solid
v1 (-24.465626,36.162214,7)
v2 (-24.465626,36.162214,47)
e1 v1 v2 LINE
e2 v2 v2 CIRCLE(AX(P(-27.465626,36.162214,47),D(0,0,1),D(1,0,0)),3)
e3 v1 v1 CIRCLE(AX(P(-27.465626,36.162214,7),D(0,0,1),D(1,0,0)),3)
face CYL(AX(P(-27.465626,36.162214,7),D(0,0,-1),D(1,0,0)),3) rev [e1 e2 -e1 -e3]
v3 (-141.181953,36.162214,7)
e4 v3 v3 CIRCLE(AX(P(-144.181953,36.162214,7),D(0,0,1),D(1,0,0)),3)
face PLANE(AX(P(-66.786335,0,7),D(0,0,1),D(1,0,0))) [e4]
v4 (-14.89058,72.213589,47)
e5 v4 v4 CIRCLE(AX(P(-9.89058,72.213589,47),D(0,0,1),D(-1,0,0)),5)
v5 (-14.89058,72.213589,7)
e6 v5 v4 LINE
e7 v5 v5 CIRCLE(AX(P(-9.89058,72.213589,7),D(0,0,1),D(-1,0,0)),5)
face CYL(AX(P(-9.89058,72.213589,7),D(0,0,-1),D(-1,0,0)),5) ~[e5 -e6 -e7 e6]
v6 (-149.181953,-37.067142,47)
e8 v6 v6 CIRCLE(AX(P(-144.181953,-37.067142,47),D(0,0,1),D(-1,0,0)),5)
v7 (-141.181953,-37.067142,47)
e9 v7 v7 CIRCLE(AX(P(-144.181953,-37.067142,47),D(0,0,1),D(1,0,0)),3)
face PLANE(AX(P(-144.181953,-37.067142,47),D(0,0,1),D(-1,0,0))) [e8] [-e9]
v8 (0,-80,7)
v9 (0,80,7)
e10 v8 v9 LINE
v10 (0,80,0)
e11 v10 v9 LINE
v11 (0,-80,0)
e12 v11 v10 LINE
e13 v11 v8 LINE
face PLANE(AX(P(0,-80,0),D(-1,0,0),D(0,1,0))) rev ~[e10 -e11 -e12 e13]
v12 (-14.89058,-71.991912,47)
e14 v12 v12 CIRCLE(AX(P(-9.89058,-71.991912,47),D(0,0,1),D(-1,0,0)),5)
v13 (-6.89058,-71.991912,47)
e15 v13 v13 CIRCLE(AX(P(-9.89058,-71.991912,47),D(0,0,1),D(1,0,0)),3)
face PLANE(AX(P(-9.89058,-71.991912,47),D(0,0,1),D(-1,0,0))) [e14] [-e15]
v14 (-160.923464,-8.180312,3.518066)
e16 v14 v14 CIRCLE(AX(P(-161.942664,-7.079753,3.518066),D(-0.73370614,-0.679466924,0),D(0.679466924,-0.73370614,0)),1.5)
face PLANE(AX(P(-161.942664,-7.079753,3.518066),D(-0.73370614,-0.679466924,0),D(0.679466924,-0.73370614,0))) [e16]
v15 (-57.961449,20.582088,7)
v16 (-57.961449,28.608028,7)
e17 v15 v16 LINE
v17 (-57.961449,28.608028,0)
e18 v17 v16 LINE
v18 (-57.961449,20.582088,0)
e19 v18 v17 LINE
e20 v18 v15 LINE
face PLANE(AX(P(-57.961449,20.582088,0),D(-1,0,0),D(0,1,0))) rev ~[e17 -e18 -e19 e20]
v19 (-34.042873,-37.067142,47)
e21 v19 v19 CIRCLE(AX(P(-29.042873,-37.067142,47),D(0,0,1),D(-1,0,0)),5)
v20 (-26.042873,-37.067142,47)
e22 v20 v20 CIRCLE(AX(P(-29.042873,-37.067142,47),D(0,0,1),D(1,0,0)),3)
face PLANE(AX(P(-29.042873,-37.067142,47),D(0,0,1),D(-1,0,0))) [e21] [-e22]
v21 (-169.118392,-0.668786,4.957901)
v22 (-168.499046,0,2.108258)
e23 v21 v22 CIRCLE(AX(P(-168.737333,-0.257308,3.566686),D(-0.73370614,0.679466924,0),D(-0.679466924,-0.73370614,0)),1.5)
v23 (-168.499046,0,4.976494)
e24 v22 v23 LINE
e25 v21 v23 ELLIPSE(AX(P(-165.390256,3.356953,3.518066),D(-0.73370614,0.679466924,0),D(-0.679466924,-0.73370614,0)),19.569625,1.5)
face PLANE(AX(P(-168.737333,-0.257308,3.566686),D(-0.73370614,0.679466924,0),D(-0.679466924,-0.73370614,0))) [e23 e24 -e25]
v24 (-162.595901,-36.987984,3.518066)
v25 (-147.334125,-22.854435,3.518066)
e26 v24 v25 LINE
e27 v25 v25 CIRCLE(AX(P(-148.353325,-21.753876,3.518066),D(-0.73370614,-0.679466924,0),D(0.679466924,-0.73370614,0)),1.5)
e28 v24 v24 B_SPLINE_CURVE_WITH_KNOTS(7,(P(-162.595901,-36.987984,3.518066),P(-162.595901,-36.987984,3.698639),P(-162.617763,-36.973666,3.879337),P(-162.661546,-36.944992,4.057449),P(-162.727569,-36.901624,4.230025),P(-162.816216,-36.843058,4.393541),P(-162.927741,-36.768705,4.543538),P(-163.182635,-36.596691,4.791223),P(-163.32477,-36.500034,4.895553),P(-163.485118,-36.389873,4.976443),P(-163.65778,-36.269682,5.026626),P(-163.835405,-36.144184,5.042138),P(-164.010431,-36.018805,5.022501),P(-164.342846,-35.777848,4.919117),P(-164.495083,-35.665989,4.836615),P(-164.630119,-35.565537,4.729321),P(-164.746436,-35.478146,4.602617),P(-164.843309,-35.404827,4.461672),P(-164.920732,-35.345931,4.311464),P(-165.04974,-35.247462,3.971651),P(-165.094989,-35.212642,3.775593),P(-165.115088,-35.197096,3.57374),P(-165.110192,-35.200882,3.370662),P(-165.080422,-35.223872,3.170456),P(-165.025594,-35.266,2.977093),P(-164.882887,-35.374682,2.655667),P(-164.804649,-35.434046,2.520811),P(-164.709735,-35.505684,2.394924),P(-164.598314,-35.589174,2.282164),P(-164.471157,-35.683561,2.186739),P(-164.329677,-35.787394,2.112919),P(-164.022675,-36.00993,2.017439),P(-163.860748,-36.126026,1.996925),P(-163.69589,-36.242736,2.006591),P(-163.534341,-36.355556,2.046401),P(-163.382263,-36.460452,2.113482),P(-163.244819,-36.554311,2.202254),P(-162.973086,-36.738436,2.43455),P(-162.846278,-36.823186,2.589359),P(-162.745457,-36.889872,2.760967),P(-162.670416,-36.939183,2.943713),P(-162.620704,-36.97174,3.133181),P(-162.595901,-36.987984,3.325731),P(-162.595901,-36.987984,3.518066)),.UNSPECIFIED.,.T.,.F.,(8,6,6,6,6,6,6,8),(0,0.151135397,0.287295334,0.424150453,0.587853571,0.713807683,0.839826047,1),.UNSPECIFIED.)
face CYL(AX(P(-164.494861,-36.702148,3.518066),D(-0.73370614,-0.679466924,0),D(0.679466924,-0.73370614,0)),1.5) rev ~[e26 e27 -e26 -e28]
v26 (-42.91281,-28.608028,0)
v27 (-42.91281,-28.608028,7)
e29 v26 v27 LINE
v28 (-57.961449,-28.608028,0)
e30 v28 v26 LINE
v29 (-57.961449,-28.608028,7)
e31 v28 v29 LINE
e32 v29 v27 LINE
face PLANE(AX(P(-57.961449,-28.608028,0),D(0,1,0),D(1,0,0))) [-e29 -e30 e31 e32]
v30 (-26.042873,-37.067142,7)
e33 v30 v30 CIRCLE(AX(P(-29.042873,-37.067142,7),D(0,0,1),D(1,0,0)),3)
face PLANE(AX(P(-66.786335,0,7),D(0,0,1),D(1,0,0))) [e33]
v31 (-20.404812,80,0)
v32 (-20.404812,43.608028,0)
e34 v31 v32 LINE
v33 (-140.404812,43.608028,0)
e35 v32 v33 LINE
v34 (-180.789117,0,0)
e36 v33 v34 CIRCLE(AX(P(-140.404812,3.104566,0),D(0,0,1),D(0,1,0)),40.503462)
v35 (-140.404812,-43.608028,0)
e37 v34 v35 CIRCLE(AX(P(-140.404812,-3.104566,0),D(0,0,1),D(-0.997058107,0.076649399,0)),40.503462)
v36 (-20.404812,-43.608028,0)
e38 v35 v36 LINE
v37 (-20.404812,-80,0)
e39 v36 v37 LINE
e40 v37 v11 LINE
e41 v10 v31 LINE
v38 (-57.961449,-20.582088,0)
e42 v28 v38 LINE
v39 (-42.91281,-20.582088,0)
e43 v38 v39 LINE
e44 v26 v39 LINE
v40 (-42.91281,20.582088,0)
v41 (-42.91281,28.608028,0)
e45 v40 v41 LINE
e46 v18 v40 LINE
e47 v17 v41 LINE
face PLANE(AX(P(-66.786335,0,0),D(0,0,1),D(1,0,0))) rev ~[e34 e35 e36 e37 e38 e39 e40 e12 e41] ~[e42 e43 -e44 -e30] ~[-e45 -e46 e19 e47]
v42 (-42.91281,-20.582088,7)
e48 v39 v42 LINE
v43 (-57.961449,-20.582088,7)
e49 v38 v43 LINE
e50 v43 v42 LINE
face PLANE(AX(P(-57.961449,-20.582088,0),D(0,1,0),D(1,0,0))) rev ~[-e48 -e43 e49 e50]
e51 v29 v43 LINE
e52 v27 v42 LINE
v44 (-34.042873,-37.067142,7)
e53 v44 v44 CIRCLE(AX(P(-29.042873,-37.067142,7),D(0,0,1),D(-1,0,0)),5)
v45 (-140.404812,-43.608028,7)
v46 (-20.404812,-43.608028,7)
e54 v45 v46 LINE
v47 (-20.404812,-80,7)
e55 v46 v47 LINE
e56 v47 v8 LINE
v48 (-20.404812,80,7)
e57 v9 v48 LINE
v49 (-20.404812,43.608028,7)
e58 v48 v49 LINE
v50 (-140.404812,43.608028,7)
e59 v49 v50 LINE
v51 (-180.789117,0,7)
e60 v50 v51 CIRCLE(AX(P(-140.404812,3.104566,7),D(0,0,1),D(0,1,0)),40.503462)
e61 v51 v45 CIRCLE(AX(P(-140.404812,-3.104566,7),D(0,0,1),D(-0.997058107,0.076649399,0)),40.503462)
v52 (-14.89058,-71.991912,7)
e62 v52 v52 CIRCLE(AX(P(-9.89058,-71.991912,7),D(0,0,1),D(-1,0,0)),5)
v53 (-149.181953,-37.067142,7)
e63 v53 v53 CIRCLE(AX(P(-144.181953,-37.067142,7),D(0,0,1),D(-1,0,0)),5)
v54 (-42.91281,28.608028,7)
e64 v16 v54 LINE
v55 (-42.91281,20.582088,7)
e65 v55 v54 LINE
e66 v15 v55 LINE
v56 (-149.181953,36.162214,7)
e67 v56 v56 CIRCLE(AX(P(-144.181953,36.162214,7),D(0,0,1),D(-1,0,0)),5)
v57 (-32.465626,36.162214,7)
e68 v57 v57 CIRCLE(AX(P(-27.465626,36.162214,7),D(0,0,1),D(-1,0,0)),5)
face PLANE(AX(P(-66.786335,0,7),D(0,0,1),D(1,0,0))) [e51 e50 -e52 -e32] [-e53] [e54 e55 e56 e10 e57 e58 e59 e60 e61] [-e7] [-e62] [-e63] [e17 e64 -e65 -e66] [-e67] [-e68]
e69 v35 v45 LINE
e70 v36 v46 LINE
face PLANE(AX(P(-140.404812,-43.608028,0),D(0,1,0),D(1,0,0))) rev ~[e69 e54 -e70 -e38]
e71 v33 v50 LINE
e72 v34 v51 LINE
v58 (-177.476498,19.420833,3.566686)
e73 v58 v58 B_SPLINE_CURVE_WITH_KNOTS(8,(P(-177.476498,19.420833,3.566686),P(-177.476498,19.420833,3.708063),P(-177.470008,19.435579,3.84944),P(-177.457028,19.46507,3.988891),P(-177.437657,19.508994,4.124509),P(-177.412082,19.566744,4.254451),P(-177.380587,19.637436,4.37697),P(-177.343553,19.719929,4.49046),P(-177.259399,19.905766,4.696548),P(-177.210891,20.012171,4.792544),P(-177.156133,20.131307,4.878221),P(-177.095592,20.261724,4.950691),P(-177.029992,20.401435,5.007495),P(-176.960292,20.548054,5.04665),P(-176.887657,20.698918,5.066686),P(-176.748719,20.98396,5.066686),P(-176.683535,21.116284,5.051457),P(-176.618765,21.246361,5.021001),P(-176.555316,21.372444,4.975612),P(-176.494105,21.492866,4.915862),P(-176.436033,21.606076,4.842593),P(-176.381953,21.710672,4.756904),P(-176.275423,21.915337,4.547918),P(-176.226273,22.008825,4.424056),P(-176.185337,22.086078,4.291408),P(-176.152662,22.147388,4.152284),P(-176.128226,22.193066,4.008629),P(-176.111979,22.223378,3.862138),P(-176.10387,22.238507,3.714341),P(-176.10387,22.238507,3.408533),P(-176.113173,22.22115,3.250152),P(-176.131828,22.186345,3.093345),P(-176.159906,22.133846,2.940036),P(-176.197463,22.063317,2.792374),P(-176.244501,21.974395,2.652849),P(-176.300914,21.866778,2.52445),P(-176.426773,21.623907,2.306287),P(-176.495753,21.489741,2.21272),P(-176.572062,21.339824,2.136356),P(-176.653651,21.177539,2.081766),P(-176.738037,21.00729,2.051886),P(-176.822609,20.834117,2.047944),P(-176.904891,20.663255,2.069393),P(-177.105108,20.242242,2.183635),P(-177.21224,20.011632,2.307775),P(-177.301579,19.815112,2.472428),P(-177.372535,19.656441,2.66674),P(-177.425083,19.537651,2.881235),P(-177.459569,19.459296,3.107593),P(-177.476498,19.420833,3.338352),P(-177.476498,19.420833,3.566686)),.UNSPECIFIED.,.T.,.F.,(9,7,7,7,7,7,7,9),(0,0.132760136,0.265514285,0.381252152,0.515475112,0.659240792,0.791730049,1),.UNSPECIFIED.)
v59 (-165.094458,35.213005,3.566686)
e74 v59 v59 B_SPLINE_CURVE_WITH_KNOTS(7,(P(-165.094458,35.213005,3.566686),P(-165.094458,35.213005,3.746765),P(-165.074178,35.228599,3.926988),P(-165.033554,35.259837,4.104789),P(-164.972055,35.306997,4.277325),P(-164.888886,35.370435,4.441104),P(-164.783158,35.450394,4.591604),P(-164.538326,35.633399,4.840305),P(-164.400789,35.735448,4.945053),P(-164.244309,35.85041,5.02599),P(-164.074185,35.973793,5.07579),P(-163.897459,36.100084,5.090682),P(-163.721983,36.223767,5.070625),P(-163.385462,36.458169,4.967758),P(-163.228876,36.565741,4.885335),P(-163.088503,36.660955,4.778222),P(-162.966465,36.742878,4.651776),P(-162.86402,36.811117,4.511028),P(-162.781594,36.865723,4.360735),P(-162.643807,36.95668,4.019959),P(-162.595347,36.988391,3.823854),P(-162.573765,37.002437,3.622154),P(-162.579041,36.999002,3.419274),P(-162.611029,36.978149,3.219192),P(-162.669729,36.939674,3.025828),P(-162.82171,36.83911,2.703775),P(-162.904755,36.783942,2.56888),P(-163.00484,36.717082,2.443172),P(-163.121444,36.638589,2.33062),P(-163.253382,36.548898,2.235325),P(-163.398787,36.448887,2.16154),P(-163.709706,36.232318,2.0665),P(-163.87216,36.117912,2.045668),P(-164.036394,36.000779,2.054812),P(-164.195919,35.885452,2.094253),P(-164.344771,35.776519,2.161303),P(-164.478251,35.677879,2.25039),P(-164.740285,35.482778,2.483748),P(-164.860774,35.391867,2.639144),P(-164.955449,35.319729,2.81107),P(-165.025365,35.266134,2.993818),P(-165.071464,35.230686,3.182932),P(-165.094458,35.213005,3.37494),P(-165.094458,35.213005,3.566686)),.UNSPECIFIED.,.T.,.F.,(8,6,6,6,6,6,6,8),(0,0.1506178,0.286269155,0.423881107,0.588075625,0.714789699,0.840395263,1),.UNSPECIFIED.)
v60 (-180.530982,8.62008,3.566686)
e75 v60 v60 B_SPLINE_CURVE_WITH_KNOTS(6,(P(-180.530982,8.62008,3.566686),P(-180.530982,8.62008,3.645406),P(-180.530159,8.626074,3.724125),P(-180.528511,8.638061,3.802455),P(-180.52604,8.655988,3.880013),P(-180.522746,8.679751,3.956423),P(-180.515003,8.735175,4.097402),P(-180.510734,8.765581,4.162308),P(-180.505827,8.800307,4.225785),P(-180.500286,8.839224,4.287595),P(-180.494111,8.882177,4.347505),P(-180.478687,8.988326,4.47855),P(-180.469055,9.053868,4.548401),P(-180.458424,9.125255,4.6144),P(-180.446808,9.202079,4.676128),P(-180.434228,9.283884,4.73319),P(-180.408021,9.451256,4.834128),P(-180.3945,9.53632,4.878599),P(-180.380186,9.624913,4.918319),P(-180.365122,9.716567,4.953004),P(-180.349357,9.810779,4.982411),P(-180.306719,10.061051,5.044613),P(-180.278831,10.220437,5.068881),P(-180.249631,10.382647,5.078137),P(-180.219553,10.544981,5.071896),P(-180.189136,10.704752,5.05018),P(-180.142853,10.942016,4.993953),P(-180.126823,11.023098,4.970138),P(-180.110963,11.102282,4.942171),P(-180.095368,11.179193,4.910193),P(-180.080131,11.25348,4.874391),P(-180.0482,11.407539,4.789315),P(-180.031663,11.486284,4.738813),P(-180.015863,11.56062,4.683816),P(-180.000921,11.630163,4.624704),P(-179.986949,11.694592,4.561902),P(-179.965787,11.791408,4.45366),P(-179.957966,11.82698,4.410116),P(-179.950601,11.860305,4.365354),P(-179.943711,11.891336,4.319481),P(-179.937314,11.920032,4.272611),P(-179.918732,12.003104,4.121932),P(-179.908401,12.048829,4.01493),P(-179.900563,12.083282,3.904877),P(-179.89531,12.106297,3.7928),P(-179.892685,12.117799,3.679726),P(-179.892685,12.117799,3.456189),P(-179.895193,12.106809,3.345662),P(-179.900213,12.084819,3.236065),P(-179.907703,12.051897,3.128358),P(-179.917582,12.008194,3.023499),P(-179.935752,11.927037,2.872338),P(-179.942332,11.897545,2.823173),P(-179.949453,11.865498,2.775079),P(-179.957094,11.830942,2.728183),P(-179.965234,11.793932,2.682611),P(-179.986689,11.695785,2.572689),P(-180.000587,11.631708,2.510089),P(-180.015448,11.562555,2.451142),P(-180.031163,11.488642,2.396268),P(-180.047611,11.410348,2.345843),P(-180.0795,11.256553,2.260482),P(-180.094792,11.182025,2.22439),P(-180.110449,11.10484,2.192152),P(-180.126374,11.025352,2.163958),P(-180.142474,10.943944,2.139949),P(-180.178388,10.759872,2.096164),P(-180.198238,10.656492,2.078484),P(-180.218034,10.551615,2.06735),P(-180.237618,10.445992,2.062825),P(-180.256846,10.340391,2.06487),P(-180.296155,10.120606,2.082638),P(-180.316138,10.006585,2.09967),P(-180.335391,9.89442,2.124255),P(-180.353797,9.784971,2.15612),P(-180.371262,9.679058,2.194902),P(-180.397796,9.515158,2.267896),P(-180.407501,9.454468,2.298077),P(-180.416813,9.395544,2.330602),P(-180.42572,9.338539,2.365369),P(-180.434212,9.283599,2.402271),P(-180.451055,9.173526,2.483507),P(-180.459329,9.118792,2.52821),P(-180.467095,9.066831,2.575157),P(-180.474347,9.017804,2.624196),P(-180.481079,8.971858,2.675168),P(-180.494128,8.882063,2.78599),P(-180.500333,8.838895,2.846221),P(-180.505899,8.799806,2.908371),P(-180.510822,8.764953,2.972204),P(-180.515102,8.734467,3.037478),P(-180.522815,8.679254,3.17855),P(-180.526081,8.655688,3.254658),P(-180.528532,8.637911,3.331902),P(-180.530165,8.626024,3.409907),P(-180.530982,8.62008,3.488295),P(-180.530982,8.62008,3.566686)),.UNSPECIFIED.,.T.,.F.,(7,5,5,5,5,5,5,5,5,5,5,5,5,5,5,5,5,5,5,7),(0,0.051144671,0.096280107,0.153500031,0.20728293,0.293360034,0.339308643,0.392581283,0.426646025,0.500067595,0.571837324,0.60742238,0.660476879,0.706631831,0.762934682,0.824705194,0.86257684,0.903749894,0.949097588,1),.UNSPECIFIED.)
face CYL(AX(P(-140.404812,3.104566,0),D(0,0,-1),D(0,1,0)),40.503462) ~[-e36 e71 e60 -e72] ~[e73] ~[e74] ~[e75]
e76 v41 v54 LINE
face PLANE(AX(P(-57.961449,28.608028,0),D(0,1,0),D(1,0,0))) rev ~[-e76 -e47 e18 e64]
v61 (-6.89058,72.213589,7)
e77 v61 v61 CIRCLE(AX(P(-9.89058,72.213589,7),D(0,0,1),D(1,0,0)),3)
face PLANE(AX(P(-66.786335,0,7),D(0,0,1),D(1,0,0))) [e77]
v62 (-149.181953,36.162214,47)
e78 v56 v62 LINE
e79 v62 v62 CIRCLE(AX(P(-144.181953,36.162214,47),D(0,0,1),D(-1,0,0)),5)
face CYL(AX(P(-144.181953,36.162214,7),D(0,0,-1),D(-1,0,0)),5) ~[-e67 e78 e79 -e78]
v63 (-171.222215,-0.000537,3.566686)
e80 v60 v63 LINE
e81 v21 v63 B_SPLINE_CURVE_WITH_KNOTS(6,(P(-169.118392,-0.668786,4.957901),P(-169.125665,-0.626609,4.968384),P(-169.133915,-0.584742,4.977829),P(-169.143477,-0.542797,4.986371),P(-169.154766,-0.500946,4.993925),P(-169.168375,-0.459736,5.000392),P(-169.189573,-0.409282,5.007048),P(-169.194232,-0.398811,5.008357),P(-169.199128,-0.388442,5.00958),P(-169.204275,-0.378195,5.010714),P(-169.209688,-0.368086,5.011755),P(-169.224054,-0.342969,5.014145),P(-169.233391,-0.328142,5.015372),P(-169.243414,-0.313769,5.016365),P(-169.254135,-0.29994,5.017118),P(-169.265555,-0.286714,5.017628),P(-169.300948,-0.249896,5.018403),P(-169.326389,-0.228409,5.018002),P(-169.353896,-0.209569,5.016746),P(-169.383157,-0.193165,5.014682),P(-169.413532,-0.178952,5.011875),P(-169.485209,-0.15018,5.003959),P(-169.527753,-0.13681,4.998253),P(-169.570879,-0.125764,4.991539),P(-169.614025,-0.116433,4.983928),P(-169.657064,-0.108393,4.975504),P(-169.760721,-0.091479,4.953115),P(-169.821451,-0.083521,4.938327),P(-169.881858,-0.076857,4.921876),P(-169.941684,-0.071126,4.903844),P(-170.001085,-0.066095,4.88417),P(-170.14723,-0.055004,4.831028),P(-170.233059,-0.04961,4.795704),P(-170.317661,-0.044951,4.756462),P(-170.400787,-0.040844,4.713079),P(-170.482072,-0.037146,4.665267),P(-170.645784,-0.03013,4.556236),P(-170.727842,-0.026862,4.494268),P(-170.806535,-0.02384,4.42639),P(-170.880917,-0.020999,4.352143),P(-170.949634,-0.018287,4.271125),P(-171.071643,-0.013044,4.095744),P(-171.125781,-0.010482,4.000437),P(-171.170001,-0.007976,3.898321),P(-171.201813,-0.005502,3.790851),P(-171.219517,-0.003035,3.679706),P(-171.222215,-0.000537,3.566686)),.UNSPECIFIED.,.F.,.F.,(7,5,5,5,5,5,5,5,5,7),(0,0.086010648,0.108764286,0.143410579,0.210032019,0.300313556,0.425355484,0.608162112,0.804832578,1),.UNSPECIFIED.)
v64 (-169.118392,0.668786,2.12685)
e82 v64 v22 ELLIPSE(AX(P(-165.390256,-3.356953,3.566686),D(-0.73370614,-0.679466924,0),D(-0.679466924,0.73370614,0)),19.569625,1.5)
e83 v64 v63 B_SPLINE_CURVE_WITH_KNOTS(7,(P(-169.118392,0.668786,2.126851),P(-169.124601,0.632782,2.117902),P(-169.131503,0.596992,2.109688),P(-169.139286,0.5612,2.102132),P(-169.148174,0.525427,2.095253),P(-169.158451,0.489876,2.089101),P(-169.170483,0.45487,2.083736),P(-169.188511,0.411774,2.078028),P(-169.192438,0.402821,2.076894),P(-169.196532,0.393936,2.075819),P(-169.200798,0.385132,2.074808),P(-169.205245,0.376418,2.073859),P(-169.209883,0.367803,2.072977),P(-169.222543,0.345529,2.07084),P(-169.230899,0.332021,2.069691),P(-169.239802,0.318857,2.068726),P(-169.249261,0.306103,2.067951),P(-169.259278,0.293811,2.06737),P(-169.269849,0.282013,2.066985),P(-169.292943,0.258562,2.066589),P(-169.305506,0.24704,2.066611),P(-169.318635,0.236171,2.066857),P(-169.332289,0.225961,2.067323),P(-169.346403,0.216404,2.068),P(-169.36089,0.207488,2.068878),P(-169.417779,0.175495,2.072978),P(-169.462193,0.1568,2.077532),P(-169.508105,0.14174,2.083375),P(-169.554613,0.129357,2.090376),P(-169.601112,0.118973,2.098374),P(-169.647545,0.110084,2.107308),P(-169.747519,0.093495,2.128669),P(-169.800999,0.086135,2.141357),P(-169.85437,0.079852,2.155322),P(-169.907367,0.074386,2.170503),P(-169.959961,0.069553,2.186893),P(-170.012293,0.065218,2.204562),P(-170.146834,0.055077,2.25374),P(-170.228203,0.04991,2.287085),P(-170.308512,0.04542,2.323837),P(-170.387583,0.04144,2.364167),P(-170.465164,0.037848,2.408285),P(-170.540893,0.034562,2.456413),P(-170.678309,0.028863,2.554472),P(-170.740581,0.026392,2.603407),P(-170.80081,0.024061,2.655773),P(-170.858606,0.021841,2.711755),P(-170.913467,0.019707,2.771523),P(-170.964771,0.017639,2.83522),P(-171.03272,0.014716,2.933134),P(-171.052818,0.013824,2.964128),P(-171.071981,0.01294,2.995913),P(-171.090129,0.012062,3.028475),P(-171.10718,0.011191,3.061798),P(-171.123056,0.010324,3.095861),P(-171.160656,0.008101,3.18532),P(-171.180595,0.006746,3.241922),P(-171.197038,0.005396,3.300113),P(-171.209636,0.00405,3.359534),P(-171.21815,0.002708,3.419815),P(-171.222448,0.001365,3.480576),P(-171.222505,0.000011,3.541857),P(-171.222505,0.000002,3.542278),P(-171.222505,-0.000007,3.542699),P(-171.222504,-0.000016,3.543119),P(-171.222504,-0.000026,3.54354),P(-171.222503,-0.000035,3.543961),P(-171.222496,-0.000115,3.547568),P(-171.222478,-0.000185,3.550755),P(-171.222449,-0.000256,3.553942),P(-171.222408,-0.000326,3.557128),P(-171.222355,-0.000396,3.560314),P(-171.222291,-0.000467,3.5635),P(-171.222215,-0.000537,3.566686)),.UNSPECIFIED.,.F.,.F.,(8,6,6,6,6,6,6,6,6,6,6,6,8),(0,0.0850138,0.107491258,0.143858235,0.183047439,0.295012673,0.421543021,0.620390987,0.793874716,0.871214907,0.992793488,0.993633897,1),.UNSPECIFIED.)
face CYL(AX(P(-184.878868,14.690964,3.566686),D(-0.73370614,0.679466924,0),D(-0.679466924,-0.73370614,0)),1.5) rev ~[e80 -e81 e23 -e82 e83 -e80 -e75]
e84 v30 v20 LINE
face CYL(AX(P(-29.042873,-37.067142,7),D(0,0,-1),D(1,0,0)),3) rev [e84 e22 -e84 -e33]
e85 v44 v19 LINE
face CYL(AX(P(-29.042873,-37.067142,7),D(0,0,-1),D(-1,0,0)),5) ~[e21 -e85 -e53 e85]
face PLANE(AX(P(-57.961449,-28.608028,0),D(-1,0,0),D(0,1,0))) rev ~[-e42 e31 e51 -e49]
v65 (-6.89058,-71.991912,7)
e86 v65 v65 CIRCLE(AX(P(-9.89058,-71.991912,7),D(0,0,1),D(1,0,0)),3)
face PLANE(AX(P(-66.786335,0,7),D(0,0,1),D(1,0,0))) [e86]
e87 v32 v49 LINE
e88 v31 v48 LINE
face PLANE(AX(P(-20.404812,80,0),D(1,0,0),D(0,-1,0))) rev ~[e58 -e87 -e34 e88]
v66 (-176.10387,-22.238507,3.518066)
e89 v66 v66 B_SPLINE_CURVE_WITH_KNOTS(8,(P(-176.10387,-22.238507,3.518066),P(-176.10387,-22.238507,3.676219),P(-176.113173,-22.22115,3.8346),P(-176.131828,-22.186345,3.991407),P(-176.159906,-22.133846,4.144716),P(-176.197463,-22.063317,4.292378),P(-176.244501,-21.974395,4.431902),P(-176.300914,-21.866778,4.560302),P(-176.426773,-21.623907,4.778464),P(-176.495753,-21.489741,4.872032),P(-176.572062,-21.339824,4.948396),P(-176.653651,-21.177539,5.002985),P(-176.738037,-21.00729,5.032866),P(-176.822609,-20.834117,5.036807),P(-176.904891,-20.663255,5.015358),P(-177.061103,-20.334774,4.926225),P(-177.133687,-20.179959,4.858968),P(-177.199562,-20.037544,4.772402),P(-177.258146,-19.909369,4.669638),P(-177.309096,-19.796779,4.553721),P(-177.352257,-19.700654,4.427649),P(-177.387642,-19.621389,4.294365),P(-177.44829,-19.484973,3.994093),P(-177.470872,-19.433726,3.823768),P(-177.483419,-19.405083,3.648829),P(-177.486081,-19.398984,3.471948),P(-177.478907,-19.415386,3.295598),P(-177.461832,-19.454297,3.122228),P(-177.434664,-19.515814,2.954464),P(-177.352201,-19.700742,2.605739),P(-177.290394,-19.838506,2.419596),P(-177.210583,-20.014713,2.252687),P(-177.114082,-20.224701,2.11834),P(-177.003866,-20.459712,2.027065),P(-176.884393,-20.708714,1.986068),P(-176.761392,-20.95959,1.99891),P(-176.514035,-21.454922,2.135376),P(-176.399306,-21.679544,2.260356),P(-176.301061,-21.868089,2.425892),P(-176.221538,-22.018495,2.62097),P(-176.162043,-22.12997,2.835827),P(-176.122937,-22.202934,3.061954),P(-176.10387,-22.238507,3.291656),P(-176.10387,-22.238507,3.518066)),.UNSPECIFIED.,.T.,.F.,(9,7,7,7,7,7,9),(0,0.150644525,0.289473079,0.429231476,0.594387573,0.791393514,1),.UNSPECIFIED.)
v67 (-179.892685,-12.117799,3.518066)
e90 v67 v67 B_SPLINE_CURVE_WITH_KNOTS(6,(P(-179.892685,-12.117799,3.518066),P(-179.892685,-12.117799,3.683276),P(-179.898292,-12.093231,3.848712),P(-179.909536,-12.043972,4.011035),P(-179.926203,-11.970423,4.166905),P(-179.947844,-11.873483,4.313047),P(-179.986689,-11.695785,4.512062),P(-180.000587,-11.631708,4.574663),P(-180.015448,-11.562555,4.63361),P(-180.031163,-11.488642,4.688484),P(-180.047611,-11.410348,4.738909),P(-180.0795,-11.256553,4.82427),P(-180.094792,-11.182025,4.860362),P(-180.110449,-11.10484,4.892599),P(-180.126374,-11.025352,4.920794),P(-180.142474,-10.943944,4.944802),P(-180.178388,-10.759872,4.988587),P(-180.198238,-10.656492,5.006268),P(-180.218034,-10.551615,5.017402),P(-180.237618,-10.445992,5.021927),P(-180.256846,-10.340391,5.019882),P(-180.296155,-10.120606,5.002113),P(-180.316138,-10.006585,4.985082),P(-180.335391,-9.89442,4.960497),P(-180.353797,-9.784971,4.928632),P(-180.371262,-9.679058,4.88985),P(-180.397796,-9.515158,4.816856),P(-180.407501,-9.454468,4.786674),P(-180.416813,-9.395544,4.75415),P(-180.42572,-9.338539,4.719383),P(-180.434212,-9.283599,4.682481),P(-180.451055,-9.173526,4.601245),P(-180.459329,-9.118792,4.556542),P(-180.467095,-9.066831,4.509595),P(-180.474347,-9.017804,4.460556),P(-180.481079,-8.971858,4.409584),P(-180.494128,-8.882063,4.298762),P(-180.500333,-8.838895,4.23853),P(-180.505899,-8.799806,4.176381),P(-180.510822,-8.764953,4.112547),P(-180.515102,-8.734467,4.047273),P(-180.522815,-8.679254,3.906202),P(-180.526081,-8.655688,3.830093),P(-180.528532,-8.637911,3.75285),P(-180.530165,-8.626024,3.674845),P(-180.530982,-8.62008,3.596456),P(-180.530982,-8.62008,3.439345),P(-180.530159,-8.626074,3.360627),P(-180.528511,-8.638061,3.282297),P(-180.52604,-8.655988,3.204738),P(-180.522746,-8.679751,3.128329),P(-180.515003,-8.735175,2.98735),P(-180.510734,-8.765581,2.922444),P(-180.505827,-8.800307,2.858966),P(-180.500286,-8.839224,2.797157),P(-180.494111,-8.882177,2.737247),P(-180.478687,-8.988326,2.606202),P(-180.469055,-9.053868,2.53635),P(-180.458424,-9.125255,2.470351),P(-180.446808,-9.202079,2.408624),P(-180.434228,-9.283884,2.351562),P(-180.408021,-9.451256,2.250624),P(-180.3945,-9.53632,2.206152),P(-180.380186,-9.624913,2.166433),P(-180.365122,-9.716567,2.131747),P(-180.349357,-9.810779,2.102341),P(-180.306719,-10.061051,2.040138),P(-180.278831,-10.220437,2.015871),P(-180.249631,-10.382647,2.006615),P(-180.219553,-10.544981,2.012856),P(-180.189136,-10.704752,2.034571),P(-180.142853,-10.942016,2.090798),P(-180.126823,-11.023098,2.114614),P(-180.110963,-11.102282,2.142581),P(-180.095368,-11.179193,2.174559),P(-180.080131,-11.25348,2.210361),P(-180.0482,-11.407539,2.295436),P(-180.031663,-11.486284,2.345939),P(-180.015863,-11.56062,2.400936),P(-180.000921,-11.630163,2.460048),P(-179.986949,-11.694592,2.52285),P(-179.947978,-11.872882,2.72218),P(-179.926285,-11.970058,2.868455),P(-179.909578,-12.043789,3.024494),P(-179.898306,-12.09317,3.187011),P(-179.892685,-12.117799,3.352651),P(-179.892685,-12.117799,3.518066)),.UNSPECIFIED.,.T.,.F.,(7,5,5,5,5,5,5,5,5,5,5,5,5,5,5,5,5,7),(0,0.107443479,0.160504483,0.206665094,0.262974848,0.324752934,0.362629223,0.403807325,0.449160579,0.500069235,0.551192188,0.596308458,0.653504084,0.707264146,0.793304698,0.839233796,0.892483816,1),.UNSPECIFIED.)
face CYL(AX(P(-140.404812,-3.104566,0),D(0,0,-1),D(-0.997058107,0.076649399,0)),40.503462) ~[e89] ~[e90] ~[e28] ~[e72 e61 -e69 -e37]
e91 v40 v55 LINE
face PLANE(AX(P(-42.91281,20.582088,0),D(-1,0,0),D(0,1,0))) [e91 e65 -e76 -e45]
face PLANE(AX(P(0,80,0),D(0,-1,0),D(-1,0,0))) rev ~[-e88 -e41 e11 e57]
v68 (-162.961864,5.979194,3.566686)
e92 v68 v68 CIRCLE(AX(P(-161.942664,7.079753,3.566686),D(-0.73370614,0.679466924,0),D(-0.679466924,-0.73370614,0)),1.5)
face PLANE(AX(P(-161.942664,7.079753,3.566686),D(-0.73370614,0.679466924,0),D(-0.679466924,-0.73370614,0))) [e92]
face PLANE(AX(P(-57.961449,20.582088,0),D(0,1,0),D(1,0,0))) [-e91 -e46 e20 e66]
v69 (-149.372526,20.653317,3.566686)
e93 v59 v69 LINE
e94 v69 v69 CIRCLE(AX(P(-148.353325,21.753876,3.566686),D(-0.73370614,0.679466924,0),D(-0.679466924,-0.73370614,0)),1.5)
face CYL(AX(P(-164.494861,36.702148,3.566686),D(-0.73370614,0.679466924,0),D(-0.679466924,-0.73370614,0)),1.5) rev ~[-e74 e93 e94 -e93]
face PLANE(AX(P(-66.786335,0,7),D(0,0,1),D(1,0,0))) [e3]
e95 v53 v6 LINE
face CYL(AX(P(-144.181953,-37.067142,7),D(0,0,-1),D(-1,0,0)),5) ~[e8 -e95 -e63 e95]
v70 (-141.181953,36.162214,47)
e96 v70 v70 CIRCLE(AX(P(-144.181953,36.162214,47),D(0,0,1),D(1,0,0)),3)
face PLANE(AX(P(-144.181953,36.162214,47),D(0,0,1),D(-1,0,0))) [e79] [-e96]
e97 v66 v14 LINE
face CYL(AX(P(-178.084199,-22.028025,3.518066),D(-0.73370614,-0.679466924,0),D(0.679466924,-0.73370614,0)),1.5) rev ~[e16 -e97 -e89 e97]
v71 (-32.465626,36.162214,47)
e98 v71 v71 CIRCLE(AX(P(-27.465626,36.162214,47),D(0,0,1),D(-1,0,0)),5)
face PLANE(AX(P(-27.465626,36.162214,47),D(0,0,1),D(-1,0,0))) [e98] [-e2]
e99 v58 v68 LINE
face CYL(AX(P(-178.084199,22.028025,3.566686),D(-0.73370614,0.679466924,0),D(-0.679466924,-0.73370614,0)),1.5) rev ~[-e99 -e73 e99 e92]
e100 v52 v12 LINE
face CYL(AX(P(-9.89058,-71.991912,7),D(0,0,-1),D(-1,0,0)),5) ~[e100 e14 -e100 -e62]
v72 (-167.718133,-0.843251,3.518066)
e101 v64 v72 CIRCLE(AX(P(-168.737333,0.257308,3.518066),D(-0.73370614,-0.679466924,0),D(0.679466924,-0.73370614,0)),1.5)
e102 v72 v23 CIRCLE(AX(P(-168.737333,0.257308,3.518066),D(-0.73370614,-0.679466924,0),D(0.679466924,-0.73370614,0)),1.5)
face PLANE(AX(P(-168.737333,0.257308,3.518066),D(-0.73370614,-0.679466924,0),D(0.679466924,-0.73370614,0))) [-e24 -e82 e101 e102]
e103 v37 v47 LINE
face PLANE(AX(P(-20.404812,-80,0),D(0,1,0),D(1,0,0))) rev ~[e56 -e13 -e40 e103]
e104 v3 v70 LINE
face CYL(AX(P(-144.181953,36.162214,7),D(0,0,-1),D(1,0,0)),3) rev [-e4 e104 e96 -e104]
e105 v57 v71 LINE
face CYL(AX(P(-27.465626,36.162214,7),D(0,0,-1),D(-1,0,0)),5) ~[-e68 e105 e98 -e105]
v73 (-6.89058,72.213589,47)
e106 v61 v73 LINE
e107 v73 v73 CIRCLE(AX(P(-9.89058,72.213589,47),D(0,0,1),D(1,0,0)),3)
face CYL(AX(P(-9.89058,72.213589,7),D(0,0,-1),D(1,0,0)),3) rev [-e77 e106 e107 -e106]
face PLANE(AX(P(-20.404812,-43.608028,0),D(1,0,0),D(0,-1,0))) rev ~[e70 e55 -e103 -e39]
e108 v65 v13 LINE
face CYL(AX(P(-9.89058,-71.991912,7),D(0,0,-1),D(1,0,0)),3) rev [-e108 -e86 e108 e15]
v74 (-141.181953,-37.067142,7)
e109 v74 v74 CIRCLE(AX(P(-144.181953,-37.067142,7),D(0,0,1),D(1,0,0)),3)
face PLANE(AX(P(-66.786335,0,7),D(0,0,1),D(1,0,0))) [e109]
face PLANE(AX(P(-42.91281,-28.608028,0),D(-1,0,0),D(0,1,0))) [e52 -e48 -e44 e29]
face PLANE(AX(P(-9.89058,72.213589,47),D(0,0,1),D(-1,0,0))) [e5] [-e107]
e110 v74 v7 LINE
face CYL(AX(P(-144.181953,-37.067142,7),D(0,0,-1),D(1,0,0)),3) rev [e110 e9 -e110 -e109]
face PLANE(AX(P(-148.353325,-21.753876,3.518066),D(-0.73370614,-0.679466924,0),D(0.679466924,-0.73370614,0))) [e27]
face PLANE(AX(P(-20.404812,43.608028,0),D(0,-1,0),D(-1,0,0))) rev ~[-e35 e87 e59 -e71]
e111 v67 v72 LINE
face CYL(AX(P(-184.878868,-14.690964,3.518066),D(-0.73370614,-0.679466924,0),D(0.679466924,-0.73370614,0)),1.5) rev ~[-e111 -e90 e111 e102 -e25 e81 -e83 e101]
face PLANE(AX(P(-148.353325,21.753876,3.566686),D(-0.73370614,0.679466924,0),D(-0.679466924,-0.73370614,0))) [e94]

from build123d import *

# Parameters (mm, degrees)
ESQUISSE1_W             = 15.04863884
ESQUISSE1_H             = 8.025940715
BOSS_EXTRU_2_DEPTH      = 7
ESQUISSE2_R             = 1.5
ENL_V_MAT_EXTRU_1_DEPTH = 22
ESQUISSE7_R             = 1.5
ENL_V_MAT_EXTRU_2_DEPTH = 22
ESQUISSE8_R             = 5
ESQUISSE8_R_2           = 3
BOSS_EXTRU_3_DEPTH      = 40


with BuildPart() as part:
    # Esquisse1 → Boss.-Extru.2 (new body)
    with BuildSketch(Plane.XY):
        with BuildLine():
            Line((-20.404811956, 60.852158428), (-20.404811956, 43.608028339))
            Line((-20.404811956, 43.608028339), (-140.404811956, 43.608028339))
            ThreePointArc((-140.404811956, 43.608028339), (-170.122450923, 30.625328971), (-180.789117416, 0))
            ThreePointArc((-180.789117416, 0), (-170.122450923, -30.625328971), (-140.404811956, -43.608028339))
            Line((-140.404811956, -43.608028339), (-20.404811956, -43.608028339))
            Line((-20.404811956, -43.608028339), (-20.404811956, -60.852158428))
            Line((-20.404811956, -60.852158428), (-20.404811956, -80))
            Line((-20.404811956, -80), (0, -80))
            Line((0, -80), (0, 80))
            Line((0, 80), (-20.404811956, 80))
            Line((-20.404811956, 80), (-20.404811956, 60.852158428))
        make_face()
        with Locations((-50.437129359, 24.595057981)):
            Rectangle(ESQUISSE1_W, ESQUISSE1_H, mode=Mode.SUBTRACT)
        with Locations((-50.437129359, -24.595057981)):
            Rectangle(ESQUISSE1_W, ESQUISSE1_H, mode=Mode.SUBTRACT)
    extrude(amount=BOSS_EXTRU_2_DEPTH)

    # Esquisse2 → Enlèv. mat.-Extru.1 (cut)
    with BuildSketch(Plane(origin=(-170.122450923, 30.625328971, 0), x_dir=(0, 0, 1), z_dir=(-0.7337061397658711, 0.6794669237496878, 0))):
        with Locations(Location((3.566685756, 8.282361033, 0), (0, 0, 270))):
            Circle(ESQUISSE2_R)
        with Locations(Location((3.566685756, -21.717638967, 0), (0, 0, 270))):
            Circle(ESQUISSE2_R)
        with Locations(Location((3.566685756, -11.717638967, 0), (0, 0, 270))):
            Circle(ESQUISSE2_R)
    extrude(amount=-ENL_V_MAT_EXTRU_1_DEPTH, mode=Mode.SUBTRACT)

    # Esquisse7 → Enlèv. mat.-Extru.2 (cut)
    with BuildSketch(Plane(origin=(-170.122450923, -30.625328971, 7), x_dir=(0, 0, 1), z_dir=(-0.7337061397658707, -0.6794669237496883, 0))):
        with Locations(Location((-3.481934061, 21.717638967, 0), (0, 0, 270))):
            Circle(ESQUISSE7_R)
        with Locations(Location((-3.481934061, -8.282361033, 0), (0, 0, 270))):
            Circle(ESQUISSE7_R)
        with Locations(Location((-3.481934061, 11.717638967, 0), (0, 0, 270))):
            Circle(ESQUISSE7_R)
    extrude(amount=-ENL_V_MAT_EXTRU_2_DEPTH, mode=Mode.SUBTRACT)

    # Esquisse8 → Boss.-Extru.3 (add)
    # profile 1 of 6: a face of its own
    with BuildSketch(Plane.XY.offset(7)):
        with Locations(Location((-9.890580264, 72.213588888, 0), (0, 0, 180))):
            Circle(ESQUISSE8_R)
        with Locations((-9.890580264, 72.213588888)):
            Circle(ESQUISSE8_R_2, mode=Mode.SUBTRACT)
    # profile 2 of 6: a face of its own
    with BuildSketch(Plane.XY.offset(7)):
        with Locations(Location((-9.890580264, -71.991912234, 0), (0, 0, 180))):
            Circle(ESQUISSE8_R)
        with Locations((-9.890580264, -71.991912234)):
            Circle(ESQUISSE8_R_2, mode=Mode.SUBTRACT)
    # profile 3 of 6: a face of its own
    with BuildSketch(Plane.XY.offset(7)):
        with Locations(Location((-27.465625713, 36.162213608, 0), (0, 0, 180))):
            Circle(ESQUISSE8_R)
        with Locations((-27.465625713, 36.162213608)):
            Circle(ESQUISSE8_R_2, mode=Mode.SUBTRACT)
    # profile 4 of 6: a face of its own
    with BuildSketch(Plane.XY.offset(7)):
        with Locations(Location((-29.042873382, -37.067142431, 0), (0, 0, 180))):
            Circle(ESQUISSE8_R)
        with Locations((-29.042873382, -37.067142431)):
            Circle(ESQUISSE8_R_2, mode=Mode.SUBTRACT)
    # profile 5 of 6: a face of its own
    with BuildSketch(Plane.XY.offset(7)):
        with Locations(Location((-144.181953183, 36.162213608, 0), (0, 0, 180))):
            Circle(ESQUISSE8_R)
        with Locations((-144.181953183, 36.162213608)):
            Circle(ESQUISSE8_R_2, mode=Mode.SUBTRACT)
    # profile 6 of 6: a face of its own
    with BuildSketch(Plane.XY.offset(7)):
        with Locations(Location((-144.181953183, -37.067142431, 0), (0, 0, 180))):
            Circle(ESQUISSE8_R)
        with Locations((-144.181953183, -37.067142431)):
            Circle(ESQUISSE8_R_2, mode=Mode.SUBTRACT)
    extrude(amount=BOSS_EXTRU_3_DEPTH)


solid = part.part
